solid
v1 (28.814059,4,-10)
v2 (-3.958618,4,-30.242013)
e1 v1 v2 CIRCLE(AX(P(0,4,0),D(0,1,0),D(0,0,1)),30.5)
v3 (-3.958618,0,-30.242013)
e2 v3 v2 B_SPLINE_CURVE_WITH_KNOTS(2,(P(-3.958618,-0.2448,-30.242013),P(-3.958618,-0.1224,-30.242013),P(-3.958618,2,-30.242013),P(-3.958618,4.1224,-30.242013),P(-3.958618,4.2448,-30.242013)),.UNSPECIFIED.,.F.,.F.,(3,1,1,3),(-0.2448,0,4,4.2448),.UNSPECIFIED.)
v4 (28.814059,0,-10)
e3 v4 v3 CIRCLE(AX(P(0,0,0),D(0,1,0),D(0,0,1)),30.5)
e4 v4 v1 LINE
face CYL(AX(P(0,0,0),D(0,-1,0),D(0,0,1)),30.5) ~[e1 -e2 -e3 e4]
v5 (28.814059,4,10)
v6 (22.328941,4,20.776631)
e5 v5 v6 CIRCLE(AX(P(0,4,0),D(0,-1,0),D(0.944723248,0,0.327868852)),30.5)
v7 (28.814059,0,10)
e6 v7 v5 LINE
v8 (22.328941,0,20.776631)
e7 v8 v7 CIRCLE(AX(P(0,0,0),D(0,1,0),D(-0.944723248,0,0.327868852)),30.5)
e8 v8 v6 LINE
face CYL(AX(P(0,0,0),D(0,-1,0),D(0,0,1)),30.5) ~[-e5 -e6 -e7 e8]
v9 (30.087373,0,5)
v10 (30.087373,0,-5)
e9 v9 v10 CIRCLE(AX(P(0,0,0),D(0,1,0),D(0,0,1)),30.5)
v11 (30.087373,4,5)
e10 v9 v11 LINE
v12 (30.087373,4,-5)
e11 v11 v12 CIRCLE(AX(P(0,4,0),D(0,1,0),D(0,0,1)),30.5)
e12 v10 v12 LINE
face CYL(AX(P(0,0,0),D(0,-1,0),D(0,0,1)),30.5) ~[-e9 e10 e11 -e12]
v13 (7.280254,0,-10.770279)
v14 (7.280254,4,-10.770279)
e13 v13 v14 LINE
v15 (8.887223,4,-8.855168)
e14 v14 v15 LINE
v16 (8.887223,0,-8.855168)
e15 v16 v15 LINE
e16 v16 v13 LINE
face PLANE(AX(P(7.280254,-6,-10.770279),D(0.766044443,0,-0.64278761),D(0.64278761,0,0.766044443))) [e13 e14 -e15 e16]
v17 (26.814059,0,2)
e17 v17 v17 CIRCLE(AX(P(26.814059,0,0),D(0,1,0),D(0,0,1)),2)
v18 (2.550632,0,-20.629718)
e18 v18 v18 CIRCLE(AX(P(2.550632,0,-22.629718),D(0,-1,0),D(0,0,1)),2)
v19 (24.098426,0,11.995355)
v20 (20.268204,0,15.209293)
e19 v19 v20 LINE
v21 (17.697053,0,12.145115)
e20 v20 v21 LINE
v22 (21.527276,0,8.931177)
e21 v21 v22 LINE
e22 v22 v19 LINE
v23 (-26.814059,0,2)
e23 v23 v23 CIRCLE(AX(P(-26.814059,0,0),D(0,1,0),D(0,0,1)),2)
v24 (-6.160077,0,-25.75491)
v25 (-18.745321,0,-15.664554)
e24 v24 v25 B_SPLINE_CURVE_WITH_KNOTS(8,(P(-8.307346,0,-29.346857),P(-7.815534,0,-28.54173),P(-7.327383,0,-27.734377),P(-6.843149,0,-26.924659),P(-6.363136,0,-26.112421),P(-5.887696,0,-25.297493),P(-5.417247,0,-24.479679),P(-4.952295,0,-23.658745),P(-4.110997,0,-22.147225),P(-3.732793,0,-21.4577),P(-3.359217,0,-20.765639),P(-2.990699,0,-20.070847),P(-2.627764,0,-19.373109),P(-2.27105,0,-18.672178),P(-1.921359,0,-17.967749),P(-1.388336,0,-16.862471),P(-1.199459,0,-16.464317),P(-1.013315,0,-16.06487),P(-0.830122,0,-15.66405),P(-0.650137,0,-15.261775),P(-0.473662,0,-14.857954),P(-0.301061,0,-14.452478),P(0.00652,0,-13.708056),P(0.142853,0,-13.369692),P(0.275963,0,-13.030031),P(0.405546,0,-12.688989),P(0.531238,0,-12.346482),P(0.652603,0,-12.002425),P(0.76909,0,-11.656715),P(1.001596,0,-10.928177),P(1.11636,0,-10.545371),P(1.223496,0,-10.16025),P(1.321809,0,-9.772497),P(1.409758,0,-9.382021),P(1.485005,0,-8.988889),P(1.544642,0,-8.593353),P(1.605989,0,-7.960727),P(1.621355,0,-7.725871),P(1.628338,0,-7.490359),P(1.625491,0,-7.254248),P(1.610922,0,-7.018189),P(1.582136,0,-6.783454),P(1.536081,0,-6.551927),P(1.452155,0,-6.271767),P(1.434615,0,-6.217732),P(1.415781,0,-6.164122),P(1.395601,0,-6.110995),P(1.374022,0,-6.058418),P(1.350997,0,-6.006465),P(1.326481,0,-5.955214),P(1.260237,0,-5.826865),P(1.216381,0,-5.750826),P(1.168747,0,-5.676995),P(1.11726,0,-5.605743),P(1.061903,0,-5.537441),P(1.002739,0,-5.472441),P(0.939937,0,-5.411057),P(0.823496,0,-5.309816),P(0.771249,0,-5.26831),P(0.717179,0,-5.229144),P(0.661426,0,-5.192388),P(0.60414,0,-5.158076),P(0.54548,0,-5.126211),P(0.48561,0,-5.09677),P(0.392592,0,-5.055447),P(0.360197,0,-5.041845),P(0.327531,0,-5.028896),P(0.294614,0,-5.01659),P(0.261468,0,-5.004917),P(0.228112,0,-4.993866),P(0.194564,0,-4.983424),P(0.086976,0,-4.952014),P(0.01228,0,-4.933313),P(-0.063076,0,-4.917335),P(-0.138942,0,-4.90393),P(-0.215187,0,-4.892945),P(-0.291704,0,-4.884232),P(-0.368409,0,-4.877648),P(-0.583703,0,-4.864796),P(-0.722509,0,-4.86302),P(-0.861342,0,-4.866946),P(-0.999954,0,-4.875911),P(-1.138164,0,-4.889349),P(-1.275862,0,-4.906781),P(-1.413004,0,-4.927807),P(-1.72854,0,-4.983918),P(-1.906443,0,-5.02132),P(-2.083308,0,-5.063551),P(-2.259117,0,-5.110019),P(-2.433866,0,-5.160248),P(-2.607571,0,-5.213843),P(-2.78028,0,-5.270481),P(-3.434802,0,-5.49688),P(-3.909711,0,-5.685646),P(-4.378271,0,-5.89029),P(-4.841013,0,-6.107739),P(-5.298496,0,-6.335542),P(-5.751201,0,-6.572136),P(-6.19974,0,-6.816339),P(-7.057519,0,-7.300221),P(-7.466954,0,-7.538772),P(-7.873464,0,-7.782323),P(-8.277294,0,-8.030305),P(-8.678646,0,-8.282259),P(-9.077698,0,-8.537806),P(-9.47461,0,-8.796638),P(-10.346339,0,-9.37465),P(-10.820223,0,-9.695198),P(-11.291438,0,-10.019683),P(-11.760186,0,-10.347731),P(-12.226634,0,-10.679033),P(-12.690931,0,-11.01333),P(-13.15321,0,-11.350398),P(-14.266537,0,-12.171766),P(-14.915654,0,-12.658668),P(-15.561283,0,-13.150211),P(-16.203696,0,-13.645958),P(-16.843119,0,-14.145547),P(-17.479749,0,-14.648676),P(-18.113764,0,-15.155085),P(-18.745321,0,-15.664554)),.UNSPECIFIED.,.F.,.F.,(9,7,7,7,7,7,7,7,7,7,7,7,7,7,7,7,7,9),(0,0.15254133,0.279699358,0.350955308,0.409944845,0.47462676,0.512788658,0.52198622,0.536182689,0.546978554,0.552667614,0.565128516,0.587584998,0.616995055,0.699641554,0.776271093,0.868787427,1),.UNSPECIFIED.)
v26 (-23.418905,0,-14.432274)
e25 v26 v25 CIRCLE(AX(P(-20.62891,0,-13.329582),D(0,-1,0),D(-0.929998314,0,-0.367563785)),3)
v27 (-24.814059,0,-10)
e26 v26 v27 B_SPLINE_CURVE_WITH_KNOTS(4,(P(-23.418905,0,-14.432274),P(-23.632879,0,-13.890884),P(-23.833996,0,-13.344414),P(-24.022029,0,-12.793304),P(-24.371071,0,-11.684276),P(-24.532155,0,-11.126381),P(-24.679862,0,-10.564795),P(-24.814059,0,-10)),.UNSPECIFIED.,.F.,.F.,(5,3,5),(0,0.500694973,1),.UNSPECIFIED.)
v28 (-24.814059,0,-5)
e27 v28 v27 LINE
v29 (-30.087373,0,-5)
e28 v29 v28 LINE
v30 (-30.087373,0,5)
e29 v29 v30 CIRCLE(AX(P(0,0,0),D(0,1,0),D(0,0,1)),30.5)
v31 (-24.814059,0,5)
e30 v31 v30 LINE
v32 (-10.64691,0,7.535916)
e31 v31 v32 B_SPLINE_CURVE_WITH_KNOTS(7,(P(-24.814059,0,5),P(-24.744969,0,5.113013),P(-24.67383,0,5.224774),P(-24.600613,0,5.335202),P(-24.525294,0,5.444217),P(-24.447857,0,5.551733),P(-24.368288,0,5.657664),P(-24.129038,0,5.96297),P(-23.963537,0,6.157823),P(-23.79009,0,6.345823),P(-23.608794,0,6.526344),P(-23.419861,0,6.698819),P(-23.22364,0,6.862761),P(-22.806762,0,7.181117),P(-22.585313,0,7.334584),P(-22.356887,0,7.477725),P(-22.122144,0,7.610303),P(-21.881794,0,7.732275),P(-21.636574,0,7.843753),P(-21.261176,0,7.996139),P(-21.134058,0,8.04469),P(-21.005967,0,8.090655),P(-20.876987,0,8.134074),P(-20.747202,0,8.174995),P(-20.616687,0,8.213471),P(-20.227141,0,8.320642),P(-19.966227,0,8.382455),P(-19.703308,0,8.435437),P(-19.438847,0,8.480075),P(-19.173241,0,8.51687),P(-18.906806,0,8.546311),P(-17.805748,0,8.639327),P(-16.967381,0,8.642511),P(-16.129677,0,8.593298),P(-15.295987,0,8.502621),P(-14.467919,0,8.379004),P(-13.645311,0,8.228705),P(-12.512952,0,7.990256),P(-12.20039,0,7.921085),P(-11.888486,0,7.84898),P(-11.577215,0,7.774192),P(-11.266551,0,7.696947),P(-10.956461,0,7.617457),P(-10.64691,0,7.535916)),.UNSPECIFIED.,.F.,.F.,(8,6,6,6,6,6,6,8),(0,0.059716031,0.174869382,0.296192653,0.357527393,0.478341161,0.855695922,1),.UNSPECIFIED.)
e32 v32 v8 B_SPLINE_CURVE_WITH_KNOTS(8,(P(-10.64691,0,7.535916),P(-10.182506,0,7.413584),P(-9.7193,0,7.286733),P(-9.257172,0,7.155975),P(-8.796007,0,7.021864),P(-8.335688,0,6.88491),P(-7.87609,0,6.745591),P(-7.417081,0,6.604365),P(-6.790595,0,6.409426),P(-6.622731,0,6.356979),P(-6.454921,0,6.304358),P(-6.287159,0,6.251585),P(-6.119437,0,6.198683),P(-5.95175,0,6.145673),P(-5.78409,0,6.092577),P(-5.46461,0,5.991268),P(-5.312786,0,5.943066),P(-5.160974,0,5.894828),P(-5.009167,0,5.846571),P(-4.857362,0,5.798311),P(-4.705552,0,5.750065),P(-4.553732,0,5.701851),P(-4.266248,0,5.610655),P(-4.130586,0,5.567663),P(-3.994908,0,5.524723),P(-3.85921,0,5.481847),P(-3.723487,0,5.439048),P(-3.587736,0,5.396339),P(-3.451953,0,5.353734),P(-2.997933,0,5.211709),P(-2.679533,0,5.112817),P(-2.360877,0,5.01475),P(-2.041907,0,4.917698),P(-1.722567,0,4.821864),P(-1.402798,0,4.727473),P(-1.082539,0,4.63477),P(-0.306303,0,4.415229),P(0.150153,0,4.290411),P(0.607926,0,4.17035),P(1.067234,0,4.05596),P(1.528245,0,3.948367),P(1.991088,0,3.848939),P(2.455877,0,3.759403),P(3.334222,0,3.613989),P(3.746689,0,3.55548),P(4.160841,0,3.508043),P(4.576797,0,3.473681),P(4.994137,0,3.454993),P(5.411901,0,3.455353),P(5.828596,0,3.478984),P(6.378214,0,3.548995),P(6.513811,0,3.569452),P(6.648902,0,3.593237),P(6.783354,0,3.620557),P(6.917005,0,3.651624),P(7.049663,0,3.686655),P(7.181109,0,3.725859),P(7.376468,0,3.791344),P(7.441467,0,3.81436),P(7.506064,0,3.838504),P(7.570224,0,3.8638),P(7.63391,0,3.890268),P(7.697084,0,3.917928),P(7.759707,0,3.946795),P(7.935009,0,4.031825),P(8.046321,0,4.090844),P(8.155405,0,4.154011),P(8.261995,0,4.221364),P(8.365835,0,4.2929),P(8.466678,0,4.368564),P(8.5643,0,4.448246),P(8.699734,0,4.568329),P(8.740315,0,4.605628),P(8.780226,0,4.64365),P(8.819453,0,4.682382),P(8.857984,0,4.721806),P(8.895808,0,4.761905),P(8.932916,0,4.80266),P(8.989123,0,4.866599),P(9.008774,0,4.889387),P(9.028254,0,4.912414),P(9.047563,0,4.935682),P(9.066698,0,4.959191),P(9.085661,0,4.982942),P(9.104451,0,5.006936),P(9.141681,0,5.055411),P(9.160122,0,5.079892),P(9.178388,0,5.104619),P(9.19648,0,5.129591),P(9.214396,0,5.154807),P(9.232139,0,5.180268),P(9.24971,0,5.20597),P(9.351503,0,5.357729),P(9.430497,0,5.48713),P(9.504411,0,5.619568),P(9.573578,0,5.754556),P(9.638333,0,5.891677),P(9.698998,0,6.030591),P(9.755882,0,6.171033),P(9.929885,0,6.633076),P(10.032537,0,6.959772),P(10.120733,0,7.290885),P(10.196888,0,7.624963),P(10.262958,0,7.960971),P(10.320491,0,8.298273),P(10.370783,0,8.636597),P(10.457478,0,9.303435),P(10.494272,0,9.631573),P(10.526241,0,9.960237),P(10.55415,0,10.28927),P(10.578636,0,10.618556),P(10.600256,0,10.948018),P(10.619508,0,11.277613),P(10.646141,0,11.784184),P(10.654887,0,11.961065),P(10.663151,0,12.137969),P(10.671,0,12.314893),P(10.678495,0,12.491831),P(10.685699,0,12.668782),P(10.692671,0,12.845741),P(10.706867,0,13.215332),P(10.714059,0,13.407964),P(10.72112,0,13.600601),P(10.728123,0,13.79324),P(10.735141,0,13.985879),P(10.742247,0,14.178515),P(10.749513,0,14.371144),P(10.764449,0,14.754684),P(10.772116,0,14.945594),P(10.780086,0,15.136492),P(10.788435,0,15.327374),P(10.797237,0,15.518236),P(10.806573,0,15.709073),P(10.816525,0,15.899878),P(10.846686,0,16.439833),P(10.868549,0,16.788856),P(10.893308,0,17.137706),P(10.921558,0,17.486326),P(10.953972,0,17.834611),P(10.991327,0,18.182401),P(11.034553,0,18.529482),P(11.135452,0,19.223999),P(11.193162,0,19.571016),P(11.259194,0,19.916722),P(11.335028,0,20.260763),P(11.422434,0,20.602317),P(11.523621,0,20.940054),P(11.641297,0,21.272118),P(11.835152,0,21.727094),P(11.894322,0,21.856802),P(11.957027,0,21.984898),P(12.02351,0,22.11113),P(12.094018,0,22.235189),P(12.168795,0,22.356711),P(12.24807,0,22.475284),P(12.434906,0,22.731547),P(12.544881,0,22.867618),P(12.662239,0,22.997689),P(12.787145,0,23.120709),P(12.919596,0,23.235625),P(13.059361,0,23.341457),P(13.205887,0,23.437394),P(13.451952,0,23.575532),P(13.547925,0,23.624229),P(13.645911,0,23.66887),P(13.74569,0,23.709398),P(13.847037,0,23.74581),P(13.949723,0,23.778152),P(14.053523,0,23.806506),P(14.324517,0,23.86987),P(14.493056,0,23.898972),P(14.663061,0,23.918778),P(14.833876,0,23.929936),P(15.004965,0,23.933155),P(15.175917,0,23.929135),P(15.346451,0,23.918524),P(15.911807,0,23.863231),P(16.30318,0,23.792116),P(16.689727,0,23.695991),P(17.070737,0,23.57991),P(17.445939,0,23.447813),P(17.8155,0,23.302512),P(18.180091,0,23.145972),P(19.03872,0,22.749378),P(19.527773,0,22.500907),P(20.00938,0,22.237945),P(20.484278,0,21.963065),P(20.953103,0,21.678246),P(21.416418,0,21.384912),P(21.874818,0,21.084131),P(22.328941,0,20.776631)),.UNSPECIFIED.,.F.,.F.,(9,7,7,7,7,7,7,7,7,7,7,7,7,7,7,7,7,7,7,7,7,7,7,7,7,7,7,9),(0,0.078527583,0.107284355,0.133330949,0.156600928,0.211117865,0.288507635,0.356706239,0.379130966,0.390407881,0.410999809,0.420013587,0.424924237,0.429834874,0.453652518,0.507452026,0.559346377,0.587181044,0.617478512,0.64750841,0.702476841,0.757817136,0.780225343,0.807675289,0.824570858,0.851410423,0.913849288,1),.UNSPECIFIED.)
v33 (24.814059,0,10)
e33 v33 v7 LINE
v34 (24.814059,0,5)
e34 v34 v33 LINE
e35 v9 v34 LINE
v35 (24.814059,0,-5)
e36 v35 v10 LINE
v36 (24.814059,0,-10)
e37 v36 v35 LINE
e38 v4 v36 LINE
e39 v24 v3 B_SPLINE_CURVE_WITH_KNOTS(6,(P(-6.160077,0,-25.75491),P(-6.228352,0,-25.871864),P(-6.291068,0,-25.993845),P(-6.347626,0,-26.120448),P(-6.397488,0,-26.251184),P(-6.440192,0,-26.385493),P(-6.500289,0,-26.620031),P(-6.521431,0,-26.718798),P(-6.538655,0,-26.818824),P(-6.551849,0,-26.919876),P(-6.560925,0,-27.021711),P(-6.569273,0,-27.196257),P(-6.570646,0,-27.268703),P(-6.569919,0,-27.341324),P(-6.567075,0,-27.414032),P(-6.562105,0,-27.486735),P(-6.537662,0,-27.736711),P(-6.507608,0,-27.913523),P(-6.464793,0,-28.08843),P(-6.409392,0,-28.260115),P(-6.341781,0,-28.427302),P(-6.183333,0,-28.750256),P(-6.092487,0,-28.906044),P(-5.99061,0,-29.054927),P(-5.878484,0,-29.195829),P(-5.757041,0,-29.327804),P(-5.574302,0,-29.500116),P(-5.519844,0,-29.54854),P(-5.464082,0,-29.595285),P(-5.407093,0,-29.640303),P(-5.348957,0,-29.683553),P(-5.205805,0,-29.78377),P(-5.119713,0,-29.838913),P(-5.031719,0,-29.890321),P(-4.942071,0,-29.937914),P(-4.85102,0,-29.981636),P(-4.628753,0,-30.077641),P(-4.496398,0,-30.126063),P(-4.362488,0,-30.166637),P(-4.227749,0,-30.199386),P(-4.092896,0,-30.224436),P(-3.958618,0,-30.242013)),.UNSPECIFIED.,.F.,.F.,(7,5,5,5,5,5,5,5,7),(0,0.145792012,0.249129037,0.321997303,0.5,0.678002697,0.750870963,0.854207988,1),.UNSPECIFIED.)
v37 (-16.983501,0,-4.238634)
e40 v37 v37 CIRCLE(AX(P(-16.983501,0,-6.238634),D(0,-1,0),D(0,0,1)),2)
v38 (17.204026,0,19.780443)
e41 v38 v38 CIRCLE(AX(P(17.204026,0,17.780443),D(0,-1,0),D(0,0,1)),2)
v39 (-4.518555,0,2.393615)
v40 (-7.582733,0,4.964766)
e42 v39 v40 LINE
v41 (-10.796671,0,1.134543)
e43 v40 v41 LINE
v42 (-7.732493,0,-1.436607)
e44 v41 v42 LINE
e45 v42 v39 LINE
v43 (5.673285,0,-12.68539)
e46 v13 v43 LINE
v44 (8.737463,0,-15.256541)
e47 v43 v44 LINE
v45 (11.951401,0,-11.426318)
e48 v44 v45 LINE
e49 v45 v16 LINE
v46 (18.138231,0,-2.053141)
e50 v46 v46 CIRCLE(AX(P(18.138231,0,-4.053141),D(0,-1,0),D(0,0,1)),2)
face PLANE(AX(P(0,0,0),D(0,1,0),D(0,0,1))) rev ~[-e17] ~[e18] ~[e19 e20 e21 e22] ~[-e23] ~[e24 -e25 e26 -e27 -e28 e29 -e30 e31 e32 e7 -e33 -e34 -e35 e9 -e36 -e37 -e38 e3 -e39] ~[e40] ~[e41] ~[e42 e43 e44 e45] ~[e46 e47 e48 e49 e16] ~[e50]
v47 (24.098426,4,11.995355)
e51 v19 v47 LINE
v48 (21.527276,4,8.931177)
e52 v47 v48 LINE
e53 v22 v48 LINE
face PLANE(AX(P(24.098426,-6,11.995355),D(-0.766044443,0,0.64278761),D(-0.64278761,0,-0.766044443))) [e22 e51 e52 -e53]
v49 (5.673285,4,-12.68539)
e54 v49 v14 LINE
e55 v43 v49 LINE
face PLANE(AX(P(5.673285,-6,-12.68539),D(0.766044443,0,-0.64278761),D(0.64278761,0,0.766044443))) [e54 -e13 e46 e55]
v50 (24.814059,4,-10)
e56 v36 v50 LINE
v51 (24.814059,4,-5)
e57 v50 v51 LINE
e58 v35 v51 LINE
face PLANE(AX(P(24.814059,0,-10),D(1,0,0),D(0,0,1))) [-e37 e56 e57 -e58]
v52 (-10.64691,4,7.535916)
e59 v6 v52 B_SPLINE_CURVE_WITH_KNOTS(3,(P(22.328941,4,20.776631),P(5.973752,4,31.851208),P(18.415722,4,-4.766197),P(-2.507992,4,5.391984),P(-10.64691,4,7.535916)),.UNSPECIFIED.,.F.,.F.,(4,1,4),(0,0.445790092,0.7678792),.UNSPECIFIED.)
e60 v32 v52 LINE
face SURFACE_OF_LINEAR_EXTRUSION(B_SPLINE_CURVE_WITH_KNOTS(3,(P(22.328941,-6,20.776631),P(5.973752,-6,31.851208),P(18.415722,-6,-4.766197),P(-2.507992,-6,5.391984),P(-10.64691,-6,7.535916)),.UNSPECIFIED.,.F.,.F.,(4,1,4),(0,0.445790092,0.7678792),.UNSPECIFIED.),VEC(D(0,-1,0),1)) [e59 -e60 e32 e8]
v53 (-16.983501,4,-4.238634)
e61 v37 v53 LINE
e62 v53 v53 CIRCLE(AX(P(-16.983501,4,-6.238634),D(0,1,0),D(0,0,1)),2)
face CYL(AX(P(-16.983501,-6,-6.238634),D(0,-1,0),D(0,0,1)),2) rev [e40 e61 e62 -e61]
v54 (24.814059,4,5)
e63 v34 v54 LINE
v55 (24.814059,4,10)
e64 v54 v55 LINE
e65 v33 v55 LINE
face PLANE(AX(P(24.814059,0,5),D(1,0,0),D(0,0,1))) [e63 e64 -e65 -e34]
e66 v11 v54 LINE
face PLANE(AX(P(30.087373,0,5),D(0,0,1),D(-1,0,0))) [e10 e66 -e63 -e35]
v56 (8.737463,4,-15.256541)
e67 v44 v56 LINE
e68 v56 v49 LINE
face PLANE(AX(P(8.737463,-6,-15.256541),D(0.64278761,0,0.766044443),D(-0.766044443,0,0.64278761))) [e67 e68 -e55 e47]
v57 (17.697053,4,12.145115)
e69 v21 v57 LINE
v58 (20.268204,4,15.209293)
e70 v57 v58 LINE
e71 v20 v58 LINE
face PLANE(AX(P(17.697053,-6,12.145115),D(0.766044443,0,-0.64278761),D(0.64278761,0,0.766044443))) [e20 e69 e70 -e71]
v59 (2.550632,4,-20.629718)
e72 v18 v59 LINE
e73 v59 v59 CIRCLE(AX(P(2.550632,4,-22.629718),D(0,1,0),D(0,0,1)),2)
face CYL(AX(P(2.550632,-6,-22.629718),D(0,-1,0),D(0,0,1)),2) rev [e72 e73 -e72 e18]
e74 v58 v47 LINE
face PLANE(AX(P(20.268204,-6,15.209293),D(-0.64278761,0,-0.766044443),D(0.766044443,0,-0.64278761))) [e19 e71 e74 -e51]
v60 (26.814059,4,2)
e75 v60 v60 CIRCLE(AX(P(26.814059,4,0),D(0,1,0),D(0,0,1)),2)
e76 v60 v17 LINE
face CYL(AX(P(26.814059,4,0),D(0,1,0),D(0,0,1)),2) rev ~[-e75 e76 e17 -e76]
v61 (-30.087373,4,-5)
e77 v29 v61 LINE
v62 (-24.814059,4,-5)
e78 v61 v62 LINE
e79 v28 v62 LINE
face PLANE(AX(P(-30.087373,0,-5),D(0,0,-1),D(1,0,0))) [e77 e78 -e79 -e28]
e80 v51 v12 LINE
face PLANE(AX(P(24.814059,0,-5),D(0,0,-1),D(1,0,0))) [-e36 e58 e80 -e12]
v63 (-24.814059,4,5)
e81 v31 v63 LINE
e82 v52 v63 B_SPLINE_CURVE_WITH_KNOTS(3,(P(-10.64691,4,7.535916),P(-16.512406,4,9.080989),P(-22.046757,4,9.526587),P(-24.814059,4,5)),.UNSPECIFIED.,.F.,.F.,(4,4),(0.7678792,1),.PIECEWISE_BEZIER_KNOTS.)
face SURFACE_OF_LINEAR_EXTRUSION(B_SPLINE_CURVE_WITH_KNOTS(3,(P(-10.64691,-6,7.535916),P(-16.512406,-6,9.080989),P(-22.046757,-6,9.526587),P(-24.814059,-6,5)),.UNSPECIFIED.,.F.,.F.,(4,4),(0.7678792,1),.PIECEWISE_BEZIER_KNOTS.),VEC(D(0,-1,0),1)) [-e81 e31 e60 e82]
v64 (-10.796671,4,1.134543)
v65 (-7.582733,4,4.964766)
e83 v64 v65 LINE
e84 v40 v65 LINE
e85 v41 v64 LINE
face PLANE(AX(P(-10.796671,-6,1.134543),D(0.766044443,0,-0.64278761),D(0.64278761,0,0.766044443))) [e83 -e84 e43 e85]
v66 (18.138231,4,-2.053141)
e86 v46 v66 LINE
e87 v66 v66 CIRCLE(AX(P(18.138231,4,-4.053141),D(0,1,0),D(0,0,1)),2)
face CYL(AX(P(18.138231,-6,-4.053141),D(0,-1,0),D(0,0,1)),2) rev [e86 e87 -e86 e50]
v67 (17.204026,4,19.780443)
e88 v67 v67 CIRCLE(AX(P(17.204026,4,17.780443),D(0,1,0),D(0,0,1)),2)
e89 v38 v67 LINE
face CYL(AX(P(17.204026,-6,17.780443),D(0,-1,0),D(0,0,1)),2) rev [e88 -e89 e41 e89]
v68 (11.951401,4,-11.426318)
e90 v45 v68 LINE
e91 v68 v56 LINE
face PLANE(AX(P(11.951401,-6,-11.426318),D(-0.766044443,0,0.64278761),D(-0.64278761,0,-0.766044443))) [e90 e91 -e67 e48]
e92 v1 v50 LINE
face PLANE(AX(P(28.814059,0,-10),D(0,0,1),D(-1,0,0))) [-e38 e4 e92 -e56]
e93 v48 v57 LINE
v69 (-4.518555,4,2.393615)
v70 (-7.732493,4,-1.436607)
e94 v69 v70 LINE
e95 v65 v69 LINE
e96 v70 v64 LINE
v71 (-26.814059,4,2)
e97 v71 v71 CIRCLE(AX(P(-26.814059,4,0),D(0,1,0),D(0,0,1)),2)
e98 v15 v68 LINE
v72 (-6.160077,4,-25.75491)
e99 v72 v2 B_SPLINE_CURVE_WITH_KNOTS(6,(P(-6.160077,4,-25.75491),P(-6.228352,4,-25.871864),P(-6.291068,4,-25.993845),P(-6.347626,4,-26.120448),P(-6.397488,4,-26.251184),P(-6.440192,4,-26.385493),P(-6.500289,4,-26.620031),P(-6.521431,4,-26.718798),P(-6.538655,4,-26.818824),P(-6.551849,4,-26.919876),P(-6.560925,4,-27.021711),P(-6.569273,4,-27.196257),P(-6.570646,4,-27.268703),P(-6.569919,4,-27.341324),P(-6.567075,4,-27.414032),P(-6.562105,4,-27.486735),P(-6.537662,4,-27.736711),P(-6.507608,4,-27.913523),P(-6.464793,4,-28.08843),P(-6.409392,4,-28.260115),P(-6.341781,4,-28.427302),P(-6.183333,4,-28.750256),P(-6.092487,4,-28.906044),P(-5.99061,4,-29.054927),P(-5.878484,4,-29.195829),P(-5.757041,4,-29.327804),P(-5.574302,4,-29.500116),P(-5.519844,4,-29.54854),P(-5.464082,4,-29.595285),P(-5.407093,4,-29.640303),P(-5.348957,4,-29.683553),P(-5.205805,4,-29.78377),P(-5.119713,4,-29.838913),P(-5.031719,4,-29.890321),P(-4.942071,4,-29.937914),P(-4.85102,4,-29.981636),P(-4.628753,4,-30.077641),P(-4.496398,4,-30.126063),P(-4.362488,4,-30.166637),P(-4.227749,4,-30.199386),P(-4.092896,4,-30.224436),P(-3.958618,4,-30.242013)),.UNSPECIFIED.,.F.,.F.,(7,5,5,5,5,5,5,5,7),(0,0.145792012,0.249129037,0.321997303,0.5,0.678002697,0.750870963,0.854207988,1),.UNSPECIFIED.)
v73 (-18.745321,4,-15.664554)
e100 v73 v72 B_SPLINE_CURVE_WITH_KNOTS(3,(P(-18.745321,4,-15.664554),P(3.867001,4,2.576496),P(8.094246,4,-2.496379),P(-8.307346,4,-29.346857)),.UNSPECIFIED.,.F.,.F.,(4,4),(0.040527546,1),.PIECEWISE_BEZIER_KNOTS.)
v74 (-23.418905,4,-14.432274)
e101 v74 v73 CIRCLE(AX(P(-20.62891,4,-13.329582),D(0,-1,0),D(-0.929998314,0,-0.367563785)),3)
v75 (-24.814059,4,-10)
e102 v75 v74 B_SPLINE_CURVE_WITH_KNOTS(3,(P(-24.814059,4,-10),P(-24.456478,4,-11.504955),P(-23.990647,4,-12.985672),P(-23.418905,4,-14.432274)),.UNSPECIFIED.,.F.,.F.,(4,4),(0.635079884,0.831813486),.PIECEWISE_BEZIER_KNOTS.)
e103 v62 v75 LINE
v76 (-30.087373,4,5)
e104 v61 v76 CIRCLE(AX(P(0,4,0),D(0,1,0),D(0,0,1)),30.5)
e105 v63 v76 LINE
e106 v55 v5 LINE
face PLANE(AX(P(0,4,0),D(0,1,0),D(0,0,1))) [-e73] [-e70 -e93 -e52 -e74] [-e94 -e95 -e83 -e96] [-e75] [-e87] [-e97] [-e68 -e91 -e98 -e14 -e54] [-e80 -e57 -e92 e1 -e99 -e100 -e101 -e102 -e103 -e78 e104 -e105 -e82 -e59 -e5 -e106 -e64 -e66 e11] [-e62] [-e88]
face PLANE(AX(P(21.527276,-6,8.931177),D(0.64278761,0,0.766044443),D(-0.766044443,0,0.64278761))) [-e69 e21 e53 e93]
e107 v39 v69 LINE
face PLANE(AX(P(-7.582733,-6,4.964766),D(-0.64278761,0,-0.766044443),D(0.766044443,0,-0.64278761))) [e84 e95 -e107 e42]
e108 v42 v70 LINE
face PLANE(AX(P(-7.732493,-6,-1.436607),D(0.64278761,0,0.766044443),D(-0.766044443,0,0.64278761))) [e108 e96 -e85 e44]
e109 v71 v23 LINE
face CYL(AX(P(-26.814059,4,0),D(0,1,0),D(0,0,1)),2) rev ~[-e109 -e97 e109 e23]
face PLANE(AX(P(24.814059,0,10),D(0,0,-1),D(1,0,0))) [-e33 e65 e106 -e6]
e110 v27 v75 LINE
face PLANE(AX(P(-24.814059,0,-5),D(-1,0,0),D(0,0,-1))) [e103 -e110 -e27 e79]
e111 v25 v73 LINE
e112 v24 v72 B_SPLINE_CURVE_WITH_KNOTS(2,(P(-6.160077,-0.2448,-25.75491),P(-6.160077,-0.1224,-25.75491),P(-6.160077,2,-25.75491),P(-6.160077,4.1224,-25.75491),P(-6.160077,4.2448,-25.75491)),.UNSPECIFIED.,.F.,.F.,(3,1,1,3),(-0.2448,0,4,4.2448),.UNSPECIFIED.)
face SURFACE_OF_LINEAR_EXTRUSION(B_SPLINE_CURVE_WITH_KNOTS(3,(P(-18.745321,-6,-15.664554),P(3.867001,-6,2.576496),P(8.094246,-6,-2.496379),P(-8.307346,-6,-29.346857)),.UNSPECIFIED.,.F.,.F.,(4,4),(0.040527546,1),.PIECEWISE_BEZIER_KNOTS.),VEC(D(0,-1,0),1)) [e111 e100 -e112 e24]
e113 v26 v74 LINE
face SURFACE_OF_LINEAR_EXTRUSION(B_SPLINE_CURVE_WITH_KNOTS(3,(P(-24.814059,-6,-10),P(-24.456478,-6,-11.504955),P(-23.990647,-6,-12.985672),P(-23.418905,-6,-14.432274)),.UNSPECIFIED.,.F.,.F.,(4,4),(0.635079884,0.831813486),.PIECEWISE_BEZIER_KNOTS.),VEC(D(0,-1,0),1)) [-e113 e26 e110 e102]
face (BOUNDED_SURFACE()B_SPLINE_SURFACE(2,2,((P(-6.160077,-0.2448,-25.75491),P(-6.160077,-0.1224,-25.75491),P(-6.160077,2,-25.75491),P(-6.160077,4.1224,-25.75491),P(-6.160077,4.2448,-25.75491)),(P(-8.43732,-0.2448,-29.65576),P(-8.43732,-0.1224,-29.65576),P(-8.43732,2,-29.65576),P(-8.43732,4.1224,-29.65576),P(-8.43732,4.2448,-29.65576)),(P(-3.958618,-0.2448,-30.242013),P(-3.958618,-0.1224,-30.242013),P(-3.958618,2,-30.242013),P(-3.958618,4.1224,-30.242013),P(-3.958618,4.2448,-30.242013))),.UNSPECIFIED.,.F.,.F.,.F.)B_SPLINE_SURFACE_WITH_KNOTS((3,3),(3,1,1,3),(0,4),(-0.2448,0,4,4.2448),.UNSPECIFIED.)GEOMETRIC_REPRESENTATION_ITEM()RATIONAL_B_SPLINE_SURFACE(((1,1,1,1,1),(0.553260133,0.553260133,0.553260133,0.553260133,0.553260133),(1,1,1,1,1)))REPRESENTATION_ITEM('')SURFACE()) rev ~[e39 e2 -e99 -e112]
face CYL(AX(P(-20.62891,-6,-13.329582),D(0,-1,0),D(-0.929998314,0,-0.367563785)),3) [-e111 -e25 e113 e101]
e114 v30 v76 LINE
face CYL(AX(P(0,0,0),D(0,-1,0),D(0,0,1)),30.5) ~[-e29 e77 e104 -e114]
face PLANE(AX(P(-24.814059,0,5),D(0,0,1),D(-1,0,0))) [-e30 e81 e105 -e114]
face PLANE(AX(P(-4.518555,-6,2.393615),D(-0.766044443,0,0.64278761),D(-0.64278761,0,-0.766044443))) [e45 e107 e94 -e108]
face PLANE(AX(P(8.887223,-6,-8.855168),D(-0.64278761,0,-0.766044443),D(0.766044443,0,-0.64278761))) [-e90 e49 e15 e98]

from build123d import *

# Parameters (mm, degrees)
CROQUIS1_R              = 30.5
SALIENTE_EXTRUIR1_DEPTH = 4
CORTAR_EXTRUIR3_START   = -4
CORTAR_EXTRUIR3_DEPTH   = 4
CORTAR_EXTRUIR6_START   = -10
CROQUIS9_R              = 2
CORTAR_EXTRUIR6_DEPTH   = 10
REDONDEO1_R             = 3
CROQUIS10_R             = 2
CORTAR_EXTRUIR7_DEPTH   = 4


with BuildPart() as part:
    # Croquis1 → Saliente-Extruir1 (new body)
    with BuildSketch(Plane(origin=(0, 0, 0), x_dir=(1, 0, 0), z_dir=(0, 1, 0))):
        with Locations(Location((0, 0, 0), (0, 0, 270))):
            Circle(CROQUIS1_R)
    extrude(amount=SALIENTE_EXTRUIR1_DEPTH)

    # Croquis5 → Cortar-Extruir3 (cut)
    with BuildSketch(Plane(origin=(0, 4, 0), x_dir=(1, 0, 0), z_dir=(0, 1, 0)).offset(CORTAR_EXTRUIR3_START)):
        with BuildLine():
            Line((28.814059068, 5), (30.087372767, 5))
            ThreePointArc((30.087372767, 5), (29.556634924, 7.526973624), (28.814059068, 10))
            Line((28.814059068, 10), (24.814059068, 10))
            Line((24.814059068, 10), (24.814059068, 5))
            Line((24.814059068, 5), (28.814059068, 5))
        make_face()
        with BuildLine():
            Line((30.087372767, -5), (28.814059068, -5))
            Line((28.814059068, -5), (24.814059068, -5))
            Line((24.814059068, -5), (24.814059068, -10))
            Line((24.814059068, -10), (28.814059068, -10))
            ThreePointArc((28.814059068, -10), (29.556634924, -7.526973624), (30.087372767, -5))
        make_face()
        with BuildLine():
            Line((-24.814059068, 5), (-24.814059068, 10))
            Line((-24.814059068, 10), (-28.814059068, 10))
            ThreePointArc((-28.814059068, 10), (-29.556634924, 7.526973624), (-30.087372767, 5))
            Line((-30.087372767, 5), (-28.814059068, 5))
            Line((-28.814059068, 5), (-24.814059068, 5))
        make_face()
        with BuildLine():
            Line((-28.814059068, -10), (-24.814059068, -10))
            Line((-24.814059068, -10), (-24.814059068, -5))
            Line((-24.814059068, -5), (-28.814059068, -5))
            Line((-28.814059068, -5), (-30.087372767, -5))
            ThreePointArc((-30.087372767, -5), (-29.556634924, -7.526973624), (-28.814059068, -10))
        make_face()
    extrude(amount=CORTAR_EXTRUIR3_DEPTH, mode=Mode.SUBTRACT)

    # Croquis9 → Cortar-Extruir6 (cut)
    with BuildSketch(Plane(origin=(0, 4, 0), x_dir=(1, 0, 0), z_dir=(0, 1, 0)).offset(CORTAR_EXTRUIR6_START)):
        Polygon((5.673284852, 12.685390231), (7.280253876, 10.770279124), (8.887222901, 8.855168016), (11.951400673, 11.426318455), (8.737462625, 15.25654067), align=None)
        Polygon((-10.796670675, -1.134543377), (-7.582732627, -4.964765592), (-4.518554854, -2.393615154), (-7.732492903, 1.436607062), align=None)
        with BuildLine():
            add(Edge.make_bspline(
                [(-10.646910399, -7.535916031), (-16.512406299, -9.080989315), (-22.046756553, -9.526586799), (-24.814059068, -5)],
                knots=[0.7678792, 0.7678792, 0.7678792, 0.7678792, 1, 1, 1, 1], degree=3))
            Line((-24.814059068, -5), (-24.814059068, -10))
            Line((-24.814059068, -10), (-28.814059068, -10))
            ThreePointArc((-28.814059068, -10), (-6.288730728, -29.84462876), (22.328940845, -20.776631121))
            add(Edge.make_bspline(
                [(22.328940845, -20.776631121), (5.973751648, -31.851207958), (18.415722084, 4.766196666), (-2.50799159, -5.391983749), (-10.646910399, -7.535916031)],
                knots=[0, 0, 0, 0, 0.445790092, 0.7678792, 0.7678792, 0.7678792, 0.7678792], degree=3))
        make_face()
        with BuildLine():
            add(Edge.make_bspline(
                [(-18.745320889, 15.664553597), (3.867000935, -2.576496257), (8.094246487, 2.496379136), (-8.307345659, 29.346856869)],
                knots=[0.040527546, 0.040527546, 0.040527546, 0.040527546, 1, 1, 1, 1], degree=3))
            ThreePointArc((-8.307345659, 29.346856869), (-20.930238649, 22.185019948), (-28.814059068, 10))
            Line((-28.814059068, 10), (-24.814059068, 10))
            add(Edge.make_bspline(
                [(-24.814059068, 10), (-24.456478323, 11.504954743), (-23.99064654, 12.985671633), (-23.418905183, 14.432273611)],
                knots=[0.635079884, 0.635079884, 0.635079884, 0.635079884, 0.831813486, 0.831813486, 0.831813486, 0.831813486], degree=3))
            ThreePointArc((-23.418905183, 14.432273611), (-21.393777069, 16.230440533), (-18.745320889, 15.664553597))
        make_face()
        Polygon((21.527275636, -8.931176939), (17.69705342, -12.145114987), (20.268203859, -15.20929276), (24.098426074, -11.995354711), align=None)
        with Locations(Location((2.550631881, 22.629718435, 0), (0, 0, 270))):
            Circle(CROQUIS9_R)
        with Locations(Location((18.138231416, 4.05314069, 0), (0, 0, 270))):
            Circle(CROQUIS9_R)
        with Locations(Location((-16.983501418, 6.238634388, 0), (0, 0, 270))):
            Circle(CROQUIS9_R)
        with Locations(Location((17.204026086, -17.780443199, 0), (0, 0, 270))):
            Circle(CROQUIS9_R)
    extrude(amount=CORTAR_EXTRUIR6_DEPTH, mode=Mode.SUBTRACT)

    # Redondeo1
    redondeo1_edges = [part.edges().sort_by_distance(p)[0] for p in [
        (-8.307345659, 2, -29.346856869),
    ]]
    fillet(redondeo1_edges, radius=REDONDEO1_R)

    # Croquis10 → Cortar-Extruir7 (cut)
    with BuildSketch(Plane(origin=(0, 4, 0), x_dir=(1, 0, 0), z_dir=(0, 1, 0))):
        with Locations(Location((-26.814059068, 0, 0), (0, 0, 270))):
            Circle(CROQUIS10_R)
        with Locations(Location((26.814059068, 0, 0), (0, 0, 270))):
            Circle(CROQUIS10_R)
    extrude(amount=-CORTAR_EXTRUIR7_DEPTH, mode=Mode.SUBTRACT)


solid = part.part
